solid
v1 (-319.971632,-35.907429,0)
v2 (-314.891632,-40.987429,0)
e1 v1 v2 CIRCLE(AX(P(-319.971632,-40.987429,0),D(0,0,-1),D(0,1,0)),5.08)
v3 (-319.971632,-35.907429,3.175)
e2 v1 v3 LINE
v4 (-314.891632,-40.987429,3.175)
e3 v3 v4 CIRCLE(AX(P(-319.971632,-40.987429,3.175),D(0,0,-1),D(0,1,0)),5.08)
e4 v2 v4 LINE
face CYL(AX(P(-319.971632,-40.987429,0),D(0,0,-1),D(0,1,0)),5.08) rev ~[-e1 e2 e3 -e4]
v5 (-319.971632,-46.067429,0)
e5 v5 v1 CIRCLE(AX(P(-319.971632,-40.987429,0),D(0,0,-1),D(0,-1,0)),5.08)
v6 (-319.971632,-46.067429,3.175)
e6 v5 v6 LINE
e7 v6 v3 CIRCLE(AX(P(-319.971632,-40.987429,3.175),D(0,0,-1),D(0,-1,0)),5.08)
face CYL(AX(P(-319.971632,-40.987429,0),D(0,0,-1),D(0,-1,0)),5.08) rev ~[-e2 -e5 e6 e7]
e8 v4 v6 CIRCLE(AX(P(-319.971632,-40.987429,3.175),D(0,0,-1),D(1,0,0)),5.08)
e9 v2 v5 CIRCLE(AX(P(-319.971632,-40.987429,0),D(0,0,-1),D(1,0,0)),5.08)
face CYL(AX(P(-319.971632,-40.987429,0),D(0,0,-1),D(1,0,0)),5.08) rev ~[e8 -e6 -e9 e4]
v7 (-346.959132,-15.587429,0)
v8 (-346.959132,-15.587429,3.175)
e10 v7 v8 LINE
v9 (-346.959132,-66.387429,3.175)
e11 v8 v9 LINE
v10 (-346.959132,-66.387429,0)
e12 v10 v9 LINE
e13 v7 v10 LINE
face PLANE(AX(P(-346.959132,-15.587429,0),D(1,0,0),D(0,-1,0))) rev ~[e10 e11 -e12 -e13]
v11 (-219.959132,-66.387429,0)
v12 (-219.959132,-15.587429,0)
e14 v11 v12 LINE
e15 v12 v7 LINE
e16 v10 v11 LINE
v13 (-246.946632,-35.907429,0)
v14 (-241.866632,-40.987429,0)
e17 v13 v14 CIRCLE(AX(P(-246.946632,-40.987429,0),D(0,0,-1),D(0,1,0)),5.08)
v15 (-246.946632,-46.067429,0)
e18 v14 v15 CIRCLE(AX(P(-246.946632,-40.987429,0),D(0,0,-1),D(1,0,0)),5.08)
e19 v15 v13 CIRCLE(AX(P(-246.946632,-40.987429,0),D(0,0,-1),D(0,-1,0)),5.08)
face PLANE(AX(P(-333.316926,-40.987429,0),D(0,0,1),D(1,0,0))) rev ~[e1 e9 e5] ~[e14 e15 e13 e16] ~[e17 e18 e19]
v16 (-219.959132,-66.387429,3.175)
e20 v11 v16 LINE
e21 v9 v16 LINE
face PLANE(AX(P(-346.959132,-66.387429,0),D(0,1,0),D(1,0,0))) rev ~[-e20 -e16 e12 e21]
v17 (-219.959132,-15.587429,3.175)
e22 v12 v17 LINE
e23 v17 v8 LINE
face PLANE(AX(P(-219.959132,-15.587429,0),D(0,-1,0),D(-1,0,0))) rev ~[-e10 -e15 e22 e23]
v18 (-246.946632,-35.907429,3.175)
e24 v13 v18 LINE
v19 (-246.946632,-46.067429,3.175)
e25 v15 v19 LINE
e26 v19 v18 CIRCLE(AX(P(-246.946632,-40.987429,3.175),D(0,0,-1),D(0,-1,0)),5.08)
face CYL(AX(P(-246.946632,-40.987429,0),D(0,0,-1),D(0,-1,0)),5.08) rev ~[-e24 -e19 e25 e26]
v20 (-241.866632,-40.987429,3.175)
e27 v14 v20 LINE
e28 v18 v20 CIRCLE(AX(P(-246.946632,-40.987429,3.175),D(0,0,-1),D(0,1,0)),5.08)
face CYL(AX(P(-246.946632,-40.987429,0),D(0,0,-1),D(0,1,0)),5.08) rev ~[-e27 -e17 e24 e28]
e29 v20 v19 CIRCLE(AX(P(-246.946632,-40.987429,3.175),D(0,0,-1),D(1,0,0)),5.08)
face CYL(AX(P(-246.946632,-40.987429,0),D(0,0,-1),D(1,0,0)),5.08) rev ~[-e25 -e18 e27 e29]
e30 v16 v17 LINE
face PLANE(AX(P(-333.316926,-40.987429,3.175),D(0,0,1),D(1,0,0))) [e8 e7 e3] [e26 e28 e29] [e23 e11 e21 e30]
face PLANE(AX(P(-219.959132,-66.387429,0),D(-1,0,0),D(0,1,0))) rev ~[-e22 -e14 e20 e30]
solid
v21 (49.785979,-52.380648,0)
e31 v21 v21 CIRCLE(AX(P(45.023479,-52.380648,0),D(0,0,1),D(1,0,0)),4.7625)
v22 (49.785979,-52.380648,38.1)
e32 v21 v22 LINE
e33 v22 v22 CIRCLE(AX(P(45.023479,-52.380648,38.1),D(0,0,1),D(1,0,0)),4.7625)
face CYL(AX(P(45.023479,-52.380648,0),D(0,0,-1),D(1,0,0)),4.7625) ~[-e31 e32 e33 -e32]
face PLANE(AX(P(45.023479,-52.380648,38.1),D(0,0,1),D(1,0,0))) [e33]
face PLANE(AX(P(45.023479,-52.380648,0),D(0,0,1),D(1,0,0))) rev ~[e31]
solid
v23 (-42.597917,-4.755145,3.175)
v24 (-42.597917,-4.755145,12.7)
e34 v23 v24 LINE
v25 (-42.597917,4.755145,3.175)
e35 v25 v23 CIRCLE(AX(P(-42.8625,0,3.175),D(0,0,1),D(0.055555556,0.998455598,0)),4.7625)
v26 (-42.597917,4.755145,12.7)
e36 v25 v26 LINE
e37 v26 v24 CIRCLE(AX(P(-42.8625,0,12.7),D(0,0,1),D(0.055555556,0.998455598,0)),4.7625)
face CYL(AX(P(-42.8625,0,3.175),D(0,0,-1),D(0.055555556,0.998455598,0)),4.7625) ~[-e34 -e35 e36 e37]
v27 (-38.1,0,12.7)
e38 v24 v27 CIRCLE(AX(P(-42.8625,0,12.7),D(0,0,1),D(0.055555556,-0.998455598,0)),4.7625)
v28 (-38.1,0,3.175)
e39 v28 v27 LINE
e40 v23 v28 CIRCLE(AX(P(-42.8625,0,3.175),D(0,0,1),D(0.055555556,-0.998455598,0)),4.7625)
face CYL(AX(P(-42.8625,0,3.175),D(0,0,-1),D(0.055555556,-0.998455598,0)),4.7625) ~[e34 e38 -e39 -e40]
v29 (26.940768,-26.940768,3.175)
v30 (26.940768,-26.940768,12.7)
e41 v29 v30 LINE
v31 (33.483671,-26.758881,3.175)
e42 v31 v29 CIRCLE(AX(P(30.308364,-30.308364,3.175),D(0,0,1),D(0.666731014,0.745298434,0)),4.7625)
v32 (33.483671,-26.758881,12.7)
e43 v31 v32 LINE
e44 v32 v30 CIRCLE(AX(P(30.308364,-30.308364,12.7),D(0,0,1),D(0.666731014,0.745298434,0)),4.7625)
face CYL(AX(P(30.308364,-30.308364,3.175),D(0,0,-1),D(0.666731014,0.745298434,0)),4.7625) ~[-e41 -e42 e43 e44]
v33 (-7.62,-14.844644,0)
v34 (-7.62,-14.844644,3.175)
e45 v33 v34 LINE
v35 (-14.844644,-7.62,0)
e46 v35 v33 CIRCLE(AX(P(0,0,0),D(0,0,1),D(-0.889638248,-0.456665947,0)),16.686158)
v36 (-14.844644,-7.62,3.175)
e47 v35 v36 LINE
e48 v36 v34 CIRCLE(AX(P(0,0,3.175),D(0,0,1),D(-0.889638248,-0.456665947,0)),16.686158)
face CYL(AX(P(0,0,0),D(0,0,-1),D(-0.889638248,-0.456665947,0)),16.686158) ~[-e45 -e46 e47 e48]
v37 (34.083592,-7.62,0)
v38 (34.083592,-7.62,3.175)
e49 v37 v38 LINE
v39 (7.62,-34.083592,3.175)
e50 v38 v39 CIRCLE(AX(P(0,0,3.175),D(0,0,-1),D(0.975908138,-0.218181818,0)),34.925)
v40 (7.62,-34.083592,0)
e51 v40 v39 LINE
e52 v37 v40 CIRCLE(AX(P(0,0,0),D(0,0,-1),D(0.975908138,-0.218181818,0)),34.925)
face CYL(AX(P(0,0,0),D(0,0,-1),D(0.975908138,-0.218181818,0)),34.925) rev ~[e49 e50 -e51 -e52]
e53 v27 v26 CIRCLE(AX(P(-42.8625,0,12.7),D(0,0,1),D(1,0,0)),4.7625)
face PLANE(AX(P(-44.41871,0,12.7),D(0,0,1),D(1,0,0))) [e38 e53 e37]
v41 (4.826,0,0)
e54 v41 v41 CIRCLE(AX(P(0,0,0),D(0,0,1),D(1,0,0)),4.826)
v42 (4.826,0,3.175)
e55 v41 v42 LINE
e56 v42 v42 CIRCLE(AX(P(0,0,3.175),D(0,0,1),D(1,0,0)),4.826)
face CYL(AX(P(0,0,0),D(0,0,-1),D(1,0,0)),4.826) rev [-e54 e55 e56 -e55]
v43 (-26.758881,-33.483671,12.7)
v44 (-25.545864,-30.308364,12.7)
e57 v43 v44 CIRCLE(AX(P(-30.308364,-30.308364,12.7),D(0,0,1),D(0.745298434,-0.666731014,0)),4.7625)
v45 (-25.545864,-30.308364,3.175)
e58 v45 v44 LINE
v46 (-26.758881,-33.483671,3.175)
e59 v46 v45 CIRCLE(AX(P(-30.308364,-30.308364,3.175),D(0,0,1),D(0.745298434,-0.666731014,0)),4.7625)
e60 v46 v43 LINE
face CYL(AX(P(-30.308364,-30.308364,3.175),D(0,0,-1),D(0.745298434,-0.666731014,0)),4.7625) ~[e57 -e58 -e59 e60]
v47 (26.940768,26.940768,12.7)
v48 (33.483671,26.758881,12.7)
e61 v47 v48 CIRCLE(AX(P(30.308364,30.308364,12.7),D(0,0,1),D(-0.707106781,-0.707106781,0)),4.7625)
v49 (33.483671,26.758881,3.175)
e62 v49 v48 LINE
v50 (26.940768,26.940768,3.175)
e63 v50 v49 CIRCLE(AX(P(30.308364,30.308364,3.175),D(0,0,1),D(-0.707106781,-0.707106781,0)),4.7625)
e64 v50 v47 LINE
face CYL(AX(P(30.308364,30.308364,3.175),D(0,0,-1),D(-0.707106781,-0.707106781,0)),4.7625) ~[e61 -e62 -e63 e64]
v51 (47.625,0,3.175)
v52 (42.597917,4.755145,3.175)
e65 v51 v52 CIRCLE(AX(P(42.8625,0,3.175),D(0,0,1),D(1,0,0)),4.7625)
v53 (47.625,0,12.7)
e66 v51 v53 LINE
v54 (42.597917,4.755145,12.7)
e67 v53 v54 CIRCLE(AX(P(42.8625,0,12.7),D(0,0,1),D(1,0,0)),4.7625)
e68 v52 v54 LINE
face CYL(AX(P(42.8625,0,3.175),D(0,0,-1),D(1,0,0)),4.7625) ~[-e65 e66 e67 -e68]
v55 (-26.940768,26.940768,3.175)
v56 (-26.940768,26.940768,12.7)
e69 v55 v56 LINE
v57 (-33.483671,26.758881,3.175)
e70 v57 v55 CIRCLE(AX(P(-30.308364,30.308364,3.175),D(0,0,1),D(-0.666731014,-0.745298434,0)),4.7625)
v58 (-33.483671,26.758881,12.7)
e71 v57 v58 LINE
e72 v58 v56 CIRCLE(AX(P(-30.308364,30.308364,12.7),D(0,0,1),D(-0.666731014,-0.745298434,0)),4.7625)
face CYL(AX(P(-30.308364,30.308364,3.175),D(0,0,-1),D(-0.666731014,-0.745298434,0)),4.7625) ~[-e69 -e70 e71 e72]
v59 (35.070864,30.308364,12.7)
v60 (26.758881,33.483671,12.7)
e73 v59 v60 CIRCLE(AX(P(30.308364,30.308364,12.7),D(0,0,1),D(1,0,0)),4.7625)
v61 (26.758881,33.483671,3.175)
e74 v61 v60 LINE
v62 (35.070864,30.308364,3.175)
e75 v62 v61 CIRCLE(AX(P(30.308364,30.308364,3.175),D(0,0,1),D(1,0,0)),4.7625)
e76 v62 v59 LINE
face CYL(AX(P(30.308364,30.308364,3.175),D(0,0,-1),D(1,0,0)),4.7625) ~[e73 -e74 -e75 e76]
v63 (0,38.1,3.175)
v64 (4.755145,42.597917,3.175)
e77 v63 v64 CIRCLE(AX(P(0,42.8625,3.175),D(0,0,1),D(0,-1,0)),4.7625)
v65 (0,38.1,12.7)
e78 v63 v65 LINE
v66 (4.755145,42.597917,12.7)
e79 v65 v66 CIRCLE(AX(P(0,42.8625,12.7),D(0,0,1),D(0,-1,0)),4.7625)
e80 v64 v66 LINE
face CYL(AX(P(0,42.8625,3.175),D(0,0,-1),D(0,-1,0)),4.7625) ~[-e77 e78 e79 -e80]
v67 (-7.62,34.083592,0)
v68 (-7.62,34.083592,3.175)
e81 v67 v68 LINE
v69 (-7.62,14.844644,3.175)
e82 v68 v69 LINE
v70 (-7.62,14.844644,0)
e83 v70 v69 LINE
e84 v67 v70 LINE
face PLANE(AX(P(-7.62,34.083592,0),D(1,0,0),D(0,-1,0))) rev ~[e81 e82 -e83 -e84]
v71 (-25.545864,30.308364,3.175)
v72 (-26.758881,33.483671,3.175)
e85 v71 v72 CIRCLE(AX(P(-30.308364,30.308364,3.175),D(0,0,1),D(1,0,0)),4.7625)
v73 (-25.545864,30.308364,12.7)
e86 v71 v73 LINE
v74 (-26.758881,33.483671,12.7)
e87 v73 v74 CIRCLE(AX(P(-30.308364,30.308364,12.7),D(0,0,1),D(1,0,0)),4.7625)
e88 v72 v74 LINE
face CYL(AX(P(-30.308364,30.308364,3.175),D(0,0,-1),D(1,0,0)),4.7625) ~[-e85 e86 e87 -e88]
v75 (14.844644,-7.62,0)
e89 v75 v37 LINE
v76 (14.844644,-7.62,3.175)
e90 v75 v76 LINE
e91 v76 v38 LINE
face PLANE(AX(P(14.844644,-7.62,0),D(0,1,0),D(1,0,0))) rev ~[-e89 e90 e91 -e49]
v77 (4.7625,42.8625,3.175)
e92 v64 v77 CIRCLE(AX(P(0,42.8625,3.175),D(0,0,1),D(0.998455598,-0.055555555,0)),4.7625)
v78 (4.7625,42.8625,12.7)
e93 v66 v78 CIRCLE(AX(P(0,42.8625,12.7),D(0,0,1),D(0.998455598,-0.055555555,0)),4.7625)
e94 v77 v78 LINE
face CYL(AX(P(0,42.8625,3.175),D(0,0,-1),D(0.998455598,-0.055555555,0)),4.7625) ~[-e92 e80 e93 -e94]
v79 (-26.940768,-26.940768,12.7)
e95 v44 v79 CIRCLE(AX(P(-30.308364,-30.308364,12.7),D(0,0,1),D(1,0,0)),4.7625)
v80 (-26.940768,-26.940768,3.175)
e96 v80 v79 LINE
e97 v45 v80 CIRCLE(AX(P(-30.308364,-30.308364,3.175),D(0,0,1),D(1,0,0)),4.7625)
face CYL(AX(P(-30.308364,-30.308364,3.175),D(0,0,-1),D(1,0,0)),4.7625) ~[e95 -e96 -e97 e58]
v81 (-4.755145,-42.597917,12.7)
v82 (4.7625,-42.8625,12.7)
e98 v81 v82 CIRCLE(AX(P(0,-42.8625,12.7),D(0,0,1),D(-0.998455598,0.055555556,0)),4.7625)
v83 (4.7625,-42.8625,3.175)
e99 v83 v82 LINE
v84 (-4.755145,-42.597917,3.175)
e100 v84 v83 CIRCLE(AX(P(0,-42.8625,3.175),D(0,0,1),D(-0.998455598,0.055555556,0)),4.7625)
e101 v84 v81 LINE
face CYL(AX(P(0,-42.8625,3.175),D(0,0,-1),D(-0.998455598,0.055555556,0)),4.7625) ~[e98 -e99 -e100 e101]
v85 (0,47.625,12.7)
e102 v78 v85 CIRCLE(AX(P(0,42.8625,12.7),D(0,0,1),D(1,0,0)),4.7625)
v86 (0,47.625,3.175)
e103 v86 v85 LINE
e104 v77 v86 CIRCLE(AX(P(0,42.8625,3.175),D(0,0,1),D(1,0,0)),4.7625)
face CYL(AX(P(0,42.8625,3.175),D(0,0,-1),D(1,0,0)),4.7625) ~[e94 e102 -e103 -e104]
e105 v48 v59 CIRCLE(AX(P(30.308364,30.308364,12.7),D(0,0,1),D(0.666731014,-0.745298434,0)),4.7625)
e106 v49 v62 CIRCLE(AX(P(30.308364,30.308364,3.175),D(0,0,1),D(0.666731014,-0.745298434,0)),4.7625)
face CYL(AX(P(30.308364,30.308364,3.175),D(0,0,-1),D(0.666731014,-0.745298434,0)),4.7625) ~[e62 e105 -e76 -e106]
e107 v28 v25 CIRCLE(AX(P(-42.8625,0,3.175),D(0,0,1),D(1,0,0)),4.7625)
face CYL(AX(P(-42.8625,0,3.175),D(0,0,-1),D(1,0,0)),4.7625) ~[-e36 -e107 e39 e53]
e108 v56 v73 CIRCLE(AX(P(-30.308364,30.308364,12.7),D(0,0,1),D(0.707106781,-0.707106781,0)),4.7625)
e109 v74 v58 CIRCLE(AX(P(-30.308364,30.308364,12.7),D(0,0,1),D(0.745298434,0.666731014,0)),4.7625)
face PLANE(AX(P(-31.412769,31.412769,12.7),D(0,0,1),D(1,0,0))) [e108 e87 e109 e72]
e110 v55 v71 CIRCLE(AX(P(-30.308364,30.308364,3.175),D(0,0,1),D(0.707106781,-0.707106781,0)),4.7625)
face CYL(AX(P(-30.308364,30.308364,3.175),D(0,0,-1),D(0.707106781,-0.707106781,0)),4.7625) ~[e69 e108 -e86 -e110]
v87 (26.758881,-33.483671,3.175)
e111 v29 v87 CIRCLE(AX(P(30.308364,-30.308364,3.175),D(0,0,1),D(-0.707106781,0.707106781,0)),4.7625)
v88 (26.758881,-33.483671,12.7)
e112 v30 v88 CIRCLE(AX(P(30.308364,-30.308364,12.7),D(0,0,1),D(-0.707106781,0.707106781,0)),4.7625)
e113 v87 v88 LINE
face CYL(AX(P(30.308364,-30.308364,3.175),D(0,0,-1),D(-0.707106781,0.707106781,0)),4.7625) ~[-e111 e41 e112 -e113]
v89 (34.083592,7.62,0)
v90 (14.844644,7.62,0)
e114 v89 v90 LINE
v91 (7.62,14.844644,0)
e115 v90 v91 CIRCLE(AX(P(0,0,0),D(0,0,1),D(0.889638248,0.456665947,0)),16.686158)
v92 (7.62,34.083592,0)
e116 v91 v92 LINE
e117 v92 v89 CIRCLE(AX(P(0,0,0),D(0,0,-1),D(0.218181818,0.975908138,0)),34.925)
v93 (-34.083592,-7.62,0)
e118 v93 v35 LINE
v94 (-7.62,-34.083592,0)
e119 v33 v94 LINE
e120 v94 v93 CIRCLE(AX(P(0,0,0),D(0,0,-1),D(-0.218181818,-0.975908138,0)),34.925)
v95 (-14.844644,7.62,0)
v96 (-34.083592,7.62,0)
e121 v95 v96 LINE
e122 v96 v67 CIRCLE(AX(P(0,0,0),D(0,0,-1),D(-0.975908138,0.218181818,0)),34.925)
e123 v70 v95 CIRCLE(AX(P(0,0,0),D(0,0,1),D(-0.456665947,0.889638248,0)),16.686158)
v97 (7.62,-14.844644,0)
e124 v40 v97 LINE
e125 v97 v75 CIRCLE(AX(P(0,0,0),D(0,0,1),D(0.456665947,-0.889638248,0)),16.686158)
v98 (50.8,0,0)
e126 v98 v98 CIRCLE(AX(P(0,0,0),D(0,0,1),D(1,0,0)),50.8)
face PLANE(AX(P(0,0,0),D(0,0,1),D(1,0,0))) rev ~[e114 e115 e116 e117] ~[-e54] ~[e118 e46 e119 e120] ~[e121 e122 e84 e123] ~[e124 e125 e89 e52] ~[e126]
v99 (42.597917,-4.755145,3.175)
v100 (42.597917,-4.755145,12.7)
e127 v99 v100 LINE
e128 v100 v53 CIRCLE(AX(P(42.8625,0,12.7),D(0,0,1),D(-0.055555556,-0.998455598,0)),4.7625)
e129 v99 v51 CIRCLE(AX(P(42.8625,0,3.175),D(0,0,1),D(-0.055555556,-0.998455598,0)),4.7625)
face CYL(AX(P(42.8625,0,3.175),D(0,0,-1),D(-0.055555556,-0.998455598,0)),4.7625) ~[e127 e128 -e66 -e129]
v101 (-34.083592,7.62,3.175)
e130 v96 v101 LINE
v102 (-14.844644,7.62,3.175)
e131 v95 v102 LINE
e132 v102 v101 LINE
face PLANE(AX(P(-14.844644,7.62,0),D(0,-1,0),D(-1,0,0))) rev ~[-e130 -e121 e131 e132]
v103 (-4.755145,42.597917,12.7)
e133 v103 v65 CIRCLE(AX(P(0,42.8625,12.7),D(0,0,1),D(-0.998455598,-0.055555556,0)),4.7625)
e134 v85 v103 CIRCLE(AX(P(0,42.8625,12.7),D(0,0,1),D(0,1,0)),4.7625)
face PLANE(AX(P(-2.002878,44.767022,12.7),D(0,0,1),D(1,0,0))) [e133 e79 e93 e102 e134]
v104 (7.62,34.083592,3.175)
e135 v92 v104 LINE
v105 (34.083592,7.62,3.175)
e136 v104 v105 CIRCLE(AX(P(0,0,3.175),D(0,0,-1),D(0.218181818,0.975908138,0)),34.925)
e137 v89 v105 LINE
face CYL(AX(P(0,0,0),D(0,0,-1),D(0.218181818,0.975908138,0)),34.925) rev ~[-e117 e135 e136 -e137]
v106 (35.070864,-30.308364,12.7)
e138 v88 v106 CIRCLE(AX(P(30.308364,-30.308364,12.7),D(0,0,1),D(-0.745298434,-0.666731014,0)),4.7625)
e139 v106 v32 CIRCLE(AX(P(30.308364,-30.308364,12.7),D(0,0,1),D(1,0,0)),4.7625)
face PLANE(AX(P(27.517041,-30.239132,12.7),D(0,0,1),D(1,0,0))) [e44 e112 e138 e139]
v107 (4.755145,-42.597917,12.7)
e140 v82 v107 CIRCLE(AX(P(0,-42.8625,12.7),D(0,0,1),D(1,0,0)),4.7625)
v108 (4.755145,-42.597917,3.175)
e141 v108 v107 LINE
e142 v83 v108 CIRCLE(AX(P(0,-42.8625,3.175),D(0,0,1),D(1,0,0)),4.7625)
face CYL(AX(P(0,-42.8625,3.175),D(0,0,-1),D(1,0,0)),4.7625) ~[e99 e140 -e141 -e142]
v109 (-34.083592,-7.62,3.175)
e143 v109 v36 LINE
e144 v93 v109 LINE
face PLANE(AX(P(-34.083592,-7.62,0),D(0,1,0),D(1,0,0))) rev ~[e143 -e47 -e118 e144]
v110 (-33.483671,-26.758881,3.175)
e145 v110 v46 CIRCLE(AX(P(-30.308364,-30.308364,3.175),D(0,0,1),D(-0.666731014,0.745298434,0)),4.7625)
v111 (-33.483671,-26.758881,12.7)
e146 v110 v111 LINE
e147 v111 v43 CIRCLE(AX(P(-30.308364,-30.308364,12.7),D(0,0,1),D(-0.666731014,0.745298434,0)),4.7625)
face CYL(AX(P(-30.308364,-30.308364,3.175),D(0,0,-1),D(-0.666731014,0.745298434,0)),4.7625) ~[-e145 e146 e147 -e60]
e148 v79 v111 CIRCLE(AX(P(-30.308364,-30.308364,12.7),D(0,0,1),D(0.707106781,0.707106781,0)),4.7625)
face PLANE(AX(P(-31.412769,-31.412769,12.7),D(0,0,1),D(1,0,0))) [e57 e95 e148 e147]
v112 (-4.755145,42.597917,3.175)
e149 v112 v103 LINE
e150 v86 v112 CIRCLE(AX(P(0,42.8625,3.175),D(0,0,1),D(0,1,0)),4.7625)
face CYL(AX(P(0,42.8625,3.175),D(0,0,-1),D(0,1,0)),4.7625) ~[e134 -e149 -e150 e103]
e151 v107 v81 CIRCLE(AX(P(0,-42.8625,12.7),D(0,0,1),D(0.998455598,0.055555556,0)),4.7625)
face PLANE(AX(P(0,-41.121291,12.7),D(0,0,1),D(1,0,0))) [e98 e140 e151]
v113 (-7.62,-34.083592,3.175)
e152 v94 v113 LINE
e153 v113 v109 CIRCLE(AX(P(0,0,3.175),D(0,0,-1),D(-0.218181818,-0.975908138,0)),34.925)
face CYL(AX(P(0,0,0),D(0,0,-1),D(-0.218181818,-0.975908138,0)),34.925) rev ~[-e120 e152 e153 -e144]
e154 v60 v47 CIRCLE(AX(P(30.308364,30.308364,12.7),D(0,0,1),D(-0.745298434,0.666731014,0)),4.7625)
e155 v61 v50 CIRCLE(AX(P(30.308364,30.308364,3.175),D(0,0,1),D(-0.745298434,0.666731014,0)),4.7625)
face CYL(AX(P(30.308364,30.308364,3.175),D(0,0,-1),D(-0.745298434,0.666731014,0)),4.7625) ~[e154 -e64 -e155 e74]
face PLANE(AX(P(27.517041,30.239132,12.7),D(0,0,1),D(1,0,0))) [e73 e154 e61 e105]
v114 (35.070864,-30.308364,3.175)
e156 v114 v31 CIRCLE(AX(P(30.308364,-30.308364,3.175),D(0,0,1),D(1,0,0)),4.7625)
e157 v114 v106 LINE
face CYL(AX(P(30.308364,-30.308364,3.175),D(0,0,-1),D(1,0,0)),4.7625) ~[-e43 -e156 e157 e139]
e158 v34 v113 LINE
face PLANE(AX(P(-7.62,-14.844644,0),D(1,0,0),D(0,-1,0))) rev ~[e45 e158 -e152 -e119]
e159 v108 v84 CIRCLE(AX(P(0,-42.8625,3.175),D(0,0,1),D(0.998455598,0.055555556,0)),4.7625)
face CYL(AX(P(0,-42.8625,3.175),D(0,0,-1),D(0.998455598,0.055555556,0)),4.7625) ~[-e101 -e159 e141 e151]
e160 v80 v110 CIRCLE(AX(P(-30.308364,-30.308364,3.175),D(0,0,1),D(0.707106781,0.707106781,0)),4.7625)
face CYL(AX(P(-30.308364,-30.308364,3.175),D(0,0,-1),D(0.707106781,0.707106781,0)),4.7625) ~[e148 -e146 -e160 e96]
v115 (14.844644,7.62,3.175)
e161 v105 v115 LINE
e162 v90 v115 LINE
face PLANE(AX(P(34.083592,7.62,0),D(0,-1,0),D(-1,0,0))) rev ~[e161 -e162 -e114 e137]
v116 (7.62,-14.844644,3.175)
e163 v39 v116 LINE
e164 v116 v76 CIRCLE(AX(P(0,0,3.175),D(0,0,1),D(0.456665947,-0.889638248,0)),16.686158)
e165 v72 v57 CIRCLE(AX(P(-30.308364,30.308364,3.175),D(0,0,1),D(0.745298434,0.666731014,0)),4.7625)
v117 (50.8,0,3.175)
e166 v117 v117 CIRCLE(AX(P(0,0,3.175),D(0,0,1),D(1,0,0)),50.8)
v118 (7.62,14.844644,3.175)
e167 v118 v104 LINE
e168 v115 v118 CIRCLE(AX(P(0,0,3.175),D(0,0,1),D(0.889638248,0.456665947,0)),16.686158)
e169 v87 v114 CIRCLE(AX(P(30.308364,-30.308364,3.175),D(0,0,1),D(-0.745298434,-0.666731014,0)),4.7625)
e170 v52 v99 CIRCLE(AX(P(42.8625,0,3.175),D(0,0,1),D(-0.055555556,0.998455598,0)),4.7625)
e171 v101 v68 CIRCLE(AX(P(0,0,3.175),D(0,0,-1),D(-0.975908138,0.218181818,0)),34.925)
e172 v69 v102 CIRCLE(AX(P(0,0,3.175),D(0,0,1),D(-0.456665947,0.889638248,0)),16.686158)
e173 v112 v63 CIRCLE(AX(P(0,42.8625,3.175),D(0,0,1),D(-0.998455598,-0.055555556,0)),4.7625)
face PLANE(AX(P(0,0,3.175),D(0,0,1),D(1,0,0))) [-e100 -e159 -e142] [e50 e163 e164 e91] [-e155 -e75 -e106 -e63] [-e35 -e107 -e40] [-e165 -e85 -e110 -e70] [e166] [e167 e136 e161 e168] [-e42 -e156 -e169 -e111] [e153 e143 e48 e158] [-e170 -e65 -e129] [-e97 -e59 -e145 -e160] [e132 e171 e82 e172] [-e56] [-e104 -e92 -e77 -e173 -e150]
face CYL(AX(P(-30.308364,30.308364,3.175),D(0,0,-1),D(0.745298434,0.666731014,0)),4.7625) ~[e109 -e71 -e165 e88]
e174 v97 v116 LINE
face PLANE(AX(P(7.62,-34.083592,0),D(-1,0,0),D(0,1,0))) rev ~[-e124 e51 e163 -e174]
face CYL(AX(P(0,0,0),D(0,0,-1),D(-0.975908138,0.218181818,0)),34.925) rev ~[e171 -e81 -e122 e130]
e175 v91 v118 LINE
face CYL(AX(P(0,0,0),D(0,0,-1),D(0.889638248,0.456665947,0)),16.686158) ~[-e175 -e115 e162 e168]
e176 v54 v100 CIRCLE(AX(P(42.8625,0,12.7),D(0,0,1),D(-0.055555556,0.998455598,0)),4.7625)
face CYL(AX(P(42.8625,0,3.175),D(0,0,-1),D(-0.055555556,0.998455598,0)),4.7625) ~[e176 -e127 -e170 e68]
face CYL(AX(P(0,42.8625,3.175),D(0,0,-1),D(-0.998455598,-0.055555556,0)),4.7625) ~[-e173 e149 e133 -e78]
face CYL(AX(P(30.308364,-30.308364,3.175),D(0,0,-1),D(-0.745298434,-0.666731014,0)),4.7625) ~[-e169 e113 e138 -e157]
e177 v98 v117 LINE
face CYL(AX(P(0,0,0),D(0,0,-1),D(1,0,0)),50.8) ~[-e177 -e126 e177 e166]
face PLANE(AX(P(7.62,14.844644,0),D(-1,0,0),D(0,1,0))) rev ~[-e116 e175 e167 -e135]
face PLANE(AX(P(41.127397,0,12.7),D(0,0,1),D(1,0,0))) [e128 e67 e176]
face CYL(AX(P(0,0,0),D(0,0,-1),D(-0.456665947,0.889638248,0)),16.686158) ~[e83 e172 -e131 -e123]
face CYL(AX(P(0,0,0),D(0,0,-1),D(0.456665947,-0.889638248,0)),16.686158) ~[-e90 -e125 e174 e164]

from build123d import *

# Parameters (mm, degrees)
F0_R      = 50.8
F0_R_2    = 4.826
F1_DEPTH  = 3.175
F3_DEPTH  = 3.175
F2_R      = 4.7625
F4_DEPTH  = 38.1
F6_DEPTH  = 9.525
F8_DEPTH  = 3.175
F11_DEPTH = 3.175


with BuildPart() as f1:
    # F0 (on Top) → F1 (new body)
    with BuildSketch(Plane.XY):
        Circle(F0_R)
        with BuildLine():
            ThreePointArc((-7.62, -34.0835917268), (-24.6957043329, -24.6957043329), (-34.0835917268, -7.62))
            Line((-34.0835917268, -7.62), (-14.8446440983, -7.62))
            ThreePointArc((-14.8446440983, -7.62), (-11.7988952535, -11.7988952535), (-7.62, -14.8446440983))
            Line((-7.62, -14.8446440983), (-7.62, -34.0835917268))
        make_face(mode=Mode.SUBTRACT)
        Circle(F0_R_2, mode=Mode.SUBTRACT)
        with BuildLine():
            Line((7.62, -34.0835917268), (7.62, -14.8446440983))
            ThreePointArc((7.62, -14.8446440983), (11.7988952535, -11.7988952535), (14.8446440983, -7.62))
            Line((14.8446440983, -7.62), (34.0835917268, -7.62))
            ThreePointArc((34.0835917268, -7.62), (24.6957043329, -24.6957043329), (7.62, -34.0835917268))
        make_face(mode=Mode.SUBTRACT)
        with BuildLine():
            Line((-7.62, 34.0835917268), (-7.62, 14.8446440983))
            ThreePointArc((-7.62, 14.8446440983), (-11.7988952535, 11.7988952535), (-14.8446440983, 7.62))
            Line((-14.8446440983, 7.62), (-34.0835917268, 7.62))
            ThreePointArc((-34.0835917268, 7.62), (-24.6957043329, 24.6957043329), (-7.62, 34.0835917268))
        make_face(mode=Mode.SUBTRACT)
        with BuildLine():
            ThreePointArc((7.62, 34.0835917268), (24.6957043329, 24.6957043329), (34.0835917268, 7.62))
            Line((34.0835917268, 7.62), (14.8446440983, 7.62))
            ThreePointArc((14.8446440983, 7.62), (11.7988952535, 11.7988952535), (7.62, 14.8446440983))
            Line((7.62, 14.8446440983), (7.62, 34.0835917268))
        make_face(mode=Mode.SUBTRACT)
    extrude(amount=F1_DEPTH)

    # F5 (on face) → F6 (join)
    with BuildSketch(Plane.XY.offset(3.175)):
        with BuildLine():
            ThreePointArc((-42.5979166667, 4.7551447833), (-47.625, 0), (-42.5979166667, -4.7551447833))
            ThreePointArc((-42.5979166667, -4.7551447833), (-42.8625, 0), (-42.5979166667, 4.7551447833))
        make_face()
        with BuildLine():
            ThreePointArc((-42.5979166667, 4.7551447833), (-42.8625, 0), (-42.5979166667, -4.7551447833))
            ThreePointArc((-42.5979166667, -4.7551447833), (-39.4026239636, -3.2727150903), (-38.1, 0))
            ThreePointArc((-38.1, 0), (-39.4026239636, 3.2727150903), (-42.5979166667, 4.7551447833))
        make_face()
        with BuildLine():
            ThreePointArc((-30.3083644086, 30.3083644086), (-28.5777580732, 31.9453541186), (-26.7588806177, 33.4836708612))
            ThreePointArc((-26.7588806177, 33.4836708612), (-33.675960454, 33.675960454), (-33.4836708612, 26.7588806177))
            ThreePointArc((-33.4836708612, 26.7588806177), (-31.9453541186, 28.5777580732), (-30.3083644086, 30.3083644086))
        make_face()
        with BuildLine():
            ThreePointArc((-25.5458644086, 30.3083644086), (-25.8594419096, 32.0079216591), (-26.7588806177, 33.4836708612))
            ThreePointArc((-26.7588806177, 33.4836708612), (-28.5777580732, 31.9453541186), (-30.3083644086, 30.3083644086))
            Line((-30.3083644086, 30.3083644086), (-26.9407683632, 26.9407683632))
            ThreePointArc((-26.9407683632, 26.9407683632), (-25.908388135, 28.485834562), (-25.5458644086, 30.3083644086))
        make_face()
        with BuildLine():
            Line((-26.9407683632, 26.9407683632), (-30.3083644086, 30.3083644086))
            ThreePointArc((-30.3083644086, 30.3083644086), (-31.9453541186, 28.5777580732), (-33.4836708612, 26.7588806177))
            ThreePointArc((-33.4836708612, 26.7588806177), (-30.1760216344, 25.5477035679), (-26.9407683632, 26.9407683632))
        make_face()
        with BuildLine():
            ThreePointArc((-4.7551447833, 42.5979166667), (-2.38125, 42.7963030493), (0, 42.8625))
            Line((0, 42.8625), (0, 47.625))
            ThreePointArc((0, 47.625), (-3.4598760364, 46.1352150903), (-4.7551447833, 42.5979166667))
        make_face()
        with BuildLine():
            ThreePointArc((0, 42.8625), (2.38125, 42.7963030493), (4.7551447833, 42.5979166667))
            ThreePointArc((4.7551447833, 42.5979166667), (4.7606608407, 42.7301572258), (4.7625, 42.8625))
            ThreePointArc((4.7625, 42.8625), (3.3675960454, 46.2300960454), (0, 47.625))
            Line((0, 47.625), (0, 42.8625))
        make_face()
        with BuildLine():
            ThreePointArc((0, 38.1), (3.2727150903, 39.4026239636), (4.7551447833, 42.5979166667))
            ThreePointArc((4.7551447833, 42.5979166667), (2.38125, 42.7963030493), (0, 42.8625))
            Line((0, 42.8625), (0, 38.1))
        make_face()
        with BuildLine():
            Line((0, 38.1), (0, 42.8625))
            ThreePointArc((0, 42.8625), (-2.38125, 42.7963030493), (-4.7551447833, 42.5979166667))
            ThreePointArc((-4.7551447833, 42.5979166667), (-3.2727150903, 39.4026239636), (0, 38.1))
        make_face()
        with BuildLine():
            Line((26.9407683632, 26.9407683632), (30.3083644086, 30.3083644086))
            ThreePointArc((30.3083644086, 30.3083644086), (28.5777580732, 31.9453541186), (26.7588806177, 33.4836708612))
            ThreePointArc((26.7588806177, 33.4836708612), (25.5477035679, 30.1760216344), (26.9407683632, 26.9407683632))
        make_face()
        with BuildLine():
            ThreePointArc((30.3083644086, 30.3083644086), (31.9453541186, 28.5777580732), (33.4836708612, 26.7588806177))
            ThreePointArc((33.4836708612, 26.7588806177), (34.6559961335, 28.3642695974), (35.0708644086, 30.3083644086))
            ThreePointArc((35.0708644086, 30.3083644086), (32.0079216591, 34.7572869076), (26.7588806177, 33.4836708612))
            ThreePointArc((26.7588806177, 33.4836708612), (28.5777580732, 31.9453541186), (30.3083644086, 30.3083644086))
        make_face()
        with BuildLine():
            ThreePointArc((26.9407683632, 26.9407683632), (30.1760216344, 25.5477035679), (33.4836708612, 26.7588806177))
            ThreePointArc((33.4836708612, 26.7588806177), (31.9453541186, 28.5777580732), (30.3083644086, 30.3083644086))
            Line((30.3083644086, 30.3083644086), (26.9407683632, 26.9407683632))
        make_face()
        with BuildLine():
            ThreePointArc((42.5979166667, -4.7551447833), (42.7963030493, -2.38125), (42.8625, 0))
            ThreePointArc((42.8625, 0), (42.7963030493, 2.38125), (42.5979166667, 4.7551447833))
            ThreePointArc((42.5979166667, 4.7551447833), (38.1, 0), (42.5979166667, -4.7551447833))
        make_face()
        with BuildLine():
            ThreePointArc((42.5979166667, 4.7551447833), (42.7963030493, 2.38125), (42.8625, 0))
            ThreePointArc((42.8625, 0), (42.7963030493, -2.38125), (42.5979166667, -4.7551447833))
            ThreePointArc((42.5979166667, -4.7551447833), (46.1352150903, -3.4598760364), (47.625, 0))
            ThreePointArc((47.625, 0), (46.1352150903, 3.4598760364), (42.5979166667, 4.7551447833))
        make_face()
        with BuildLine():
            ThreePointArc((-33.4836708612, -26.7588806177), (-33.675960454, -33.675960454), (-26.7588806177, -33.4836708612))
            ThreePointArc((-26.7588806177, -33.4836708612), (-28.5777580732, -31.9453541186), (-30.3083644086, -30.3083644086))
            ThreePointArc((-30.3083644086, -30.3083644086), (-31.9453541186, -28.5777580732), (-33.4836708612, -26.7588806177))
        make_face()
        with BuildLine():
            ThreePointArc((-30.3083644086, -30.3083644086), (-28.5777580732, -31.9453541186), (-26.7588806177, -33.4836708612))
            ThreePointArc((-26.7588806177, -33.4836708612), (-25.8594419096, -32.0079216591), (-25.5458644086, -30.3083644086))
            ThreePointArc((-25.5458644086, -30.3083644086), (-25.908388135, -28.485834562), (-26.9407683632, -26.9407683632))
            Line((-26.9407683632, -26.9407683632), (-30.3083644086, -30.3083644086))
        make_face()
        with BuildLine():
            ThreePointArc((-33.4836708612, -26.7588806177), (-31.9453541186, -28.5777580732), (-30.3083644086, -30.3083644086))
            Line((-30.3083644086, -30.3083644086), (-26.9407683632, -26.9407683632))
            ThreePointArc((-26.9407683632, -26.9407683632), (-30.1760216344, -25.5477035679), (-33.4836708612, -26.7588806177))
        make_face()
        with BuildLine():
            ThreePointArc((-4.7551447833, -42.5979166667), (0, -42.8625), (4.7551447833, -42.5979166667))
            ThreePointArc((4.7551447833, -42.5979166667), (0, -38.1), (-4.7551447833, -42.5979166667))
        make_face()
        with BuildLine():
            ThreePointArc((4.7625, -42.8625), (4.7606608407, -42.7301572258), (4.7551447833, -42.5979166667))
            ThreePointArc((4.7551447833, -42.5979166667), (0, -42.8625), (-4.7551447833, -42.5979166667))
            ThreePointArc((-4.7551447833, -42.5979166667), (-0.1323427742, -47.6231608407), (4.7625, -42.8625))
        make_face()
        with BuildLine():
            ThreePointArc((26.7588806177, -33.4836708612), (28.5777580732, -31.9453541186), (30.3083644086, -30.3083644086))
            Line((30.3083644086, -30.3083644086), (26.9407683632, -26.9407683632))
            ThreePointArc((26.9407683632, -26.9407683632), (25.5477035679, -30.1760216344), (26.7588806177, -33.4836708612))
        make_face()
        with BuildLine():
            ThreePointArc((30.3083644086, -30.3083644086), (31.9453541186, -28.5777580732), (33.4836708612, -26.7588806177))
            ThreePointArc((33.4836708612, -26.7588806177), (30.1760216344, -25.5477035679), (26.9407683632, -26.9407683632))
            Line((26.9407683632, -26.9407683632), (30.3083644086, -30.3083644086))
        make_face()
        with BuildLine():
            ThreePointArc((35.0708644086, -30.3083644086), (34.6559961335, -28.3642695974), (33.4836708612, -26.7588806177))
            ThreePointArc((33.4836708612, -26.7588806177), (31.9453541186, -28.5777580732), (30.3083644086, -30.3083644086))
            ThreePointArc((30.3083644086, -30.3083644086), (28.5777580732, -31.9453541186), (26.7588806177, -33.4836708612))
            ThreePointArc((26.7588806177, -33.4836708612), (32.0079216591, -34.7572869076), (35.0708644086, -30.3083644086))
        make_face()
    extrude(amount=F6_DEPTH)


with BuildPart() as f3:
    # F2 (on Top) → F3 (new body)
    with BuildSketch(Plane.XY):
        with BuildLine():
            Line((-319.9716319146, -15.5874290968), (-346.9591319146, -15.5874290968))
            Line((-346.9591319146, -15.5874290968), (-346.9591319146, -66.3874290968))
            Line((-346.9591319146, -66.3874290968), (-319.9716319146, -66.3874290968))
            Line((-319.9716319146, -66.3874290968), (-319.9716319146, -46.0674290968))
            ThreePointArc((-319.9716319146, -46.0674290968), (-325.0516319146, -40.9874290968), (-319.9716319146, -35.9074290968))
            Line((-319.9716319146, -35.9074290968), (-319.9716319146, -15.5874290968))
        make_face()
        with BuildLine():
            Line((-246.9466319146, -15.5874290968), (-319.9716319146, -15.5874290968))
            Line((-319.9716319146, -15.5874290968), (-319.9716319146, -35.9074290968))
            ThreePointArc((-319.9716319146, -35.9074290968), (-316.3795294661, -37.3953266483), (-314.8916319146, -40.9874290968))
            ThreePointArc((-314.8916319146, -40.9874290968), (-316.3795294661, -44.5795315452), (-319.9716319146, -46.0674290968))
            Line((-319.9716319146, -46.0674290968), (-319.9716319146, -66.3874290968))
            Line((-319.9716319146, -66.3874290968), (-246.9466319146, -66.3874290968))
            Line((-246.9466319146, -66.3874290968), (-246.9466319146, -46.0674290968))
            ThreePointArc((-246.9466319146, -46.0674290968), (-252.0266319146, -40.9874290968), (-246.9466319146, -35.9074290968))
            Line((-246.9466319146, -35.9074290968), (-246.9466319146, -15.5874290968))
        make_face()
        with BuildLine():
            Line((-219.9591319146, -15.5874290968), (-246.9466319146, -15.5874290968))
            Line((-246.9466319146, -15.5874290968), (-246.9466319146, -35.9074290968))
            ThreePointArc((-246.9466319146, -35.9074290968), (-243.3545294661, -37.3953266483), (-241.8666319146, -40.9874290968))
            ThreePointArc((-241.8666319146, -40.9874290968), (-243.3545294661, -44.5795315452), (-246.9466319146, -46.0674290968))
            Line((-246.9466319146, -46.0674290968), (-246.9466319146, -66.3874290968))
            Line((-246.9466319146, -66.3874290968), (-219.9591319146, -66.3874290968))
            Line((-219.9591319146, -66.3874290968), (-219.9591319146, -15.5874290968))
        make_face()
    extrude(amount=F3_DEPTH)


with BuildPart() as f4:
    # F2 (on Top) → F4 (new body)
    with BuildSketch(Plane.XY):
        with Locations((45.0234785676, -52.3806475103)):
            Circle(F2_R)
    extrude(amount=F4_DEPTH)


with BuildPart() as f8:
    # F7 (on Top) → F8 (new body)
    with BuildSketch(Plane.XY):
        with BuildLine():
            Line((-183.2109061122, -127.57224737), (-259.4109061122, -127.57224737))
            Line((-259.4109061122, -127.57224737), (-259.4109061122, -148.14624737))
            ThreePointArc((-259.4109061122, -148.14624737), (-255.9984087862, -149.559750044), (-254.5849061122, -152.97224737))
            Line((-254.5849061122, -152.97224737), (-188.0369061122, -152.97224737))
            ThreePointArc((-188.0369061122, -152.97224737), (-186.6234034382, -149.559750044), (-183.2109061122, -148.14624737))
            Line((-183.2109061122, -148.14624737), (-183.2109061122, -127.57224737))
        make_face()
        with BuildLine():
            Line((-188.0369061122, -152.97224737), (-254.5849061122, -152.97224737))
            ThreePointArc((-254.5849061122, -152.97224737), (-255.9984087862, -156.384744696), (-259.4109061122, -157.79824737))
            Line((-259.4109061122, -157.79824737), (-259.4109061122, -178.37224737))
            Line((-259.4109061122, -178.37224737), (-183.2109061122, -178.37224737))
            Line((-183.2109061122, -178.37224737), (-183.2109061122, -157.79824737))
            ThreePointArc((-183.2109061122, -157.79824737), (-186.6234034382, -156.384744696), (-188.0369061122, -152.97224737))
        make_face()
        with BuildLine():
            Line((-264.2369061122, -152.97224737), (-284.8109061122, -152.97224737))
            Line((-284.8109061122, -152.97224737), (-284.8109061122, -178.37224737))
            Line((-284.8109061122, -178.37224737), (-259.4109061122, -178.37224737))
            Line((-259.4109061122, -178.37224737), (-259.4109061122, -157.79824737))
            ThreePointArc((-259.4109061122, -157.79824737), (-262.8234034382, -156.384744696), (-264.2369061122, -152.97224737))
        make_face()
        with BuildLine():
            Line((-259.4109061122, -127.57224737), (-284.8109061122, -127.57224737))
            Line((-284.8109061122, -127.57224737), (-284.8109061122, -152.97224737))
            Line((-284.8109061122, -152.97224737), (-264.2369061122, -152.97224737))
            ThreePointArc((-264.2369061122, -152.97224737), (-262.8234034382, -149.559750044), (-259.4109061122, -148.14624737))
            Line((-259.4109061122, -148.14624737), (-259.4109061122, -127.57224737))
        make_face()
        with BuildLine():
            Line((-157.8109061122, -127.57224737), (-183.2109061122, -127.57224737))
            Line((-183.2109061122, -127.57224737), (-183.2109061122, -148.14624737))
            ThreePointArc((-183.2109061122, -148.14624737), (-179.7984087862, -149.559750044), (-178.3849061122, -152.97224737))
            Line((-178.3849061122, -152.97224737), (-157.8109061122, -152.97224737))
            Line((-157.8109061122, -152.97224737), (-157.8109061122, -127.57224737))
        make_face()
        with BuildLine():
            Line((-157.8109061122, -178.37224737), (-157.8109061122, -152.97224737))
            Line((-157.8109061122, -152.97224737), (-178.3849061122, -152.97224737))
            ThreePointArc((-178.3849061122, -152.97224737), (-179.7984087862, -156.384744696), (-183.2109061122, -157.79824737))
            Line((-183.2109061122, -157.79824737), (-183.2109061122, -178.37224737))
            Line((-183.2109061122, -178.37224737), (-157.8109061122, -178.37224737))
        make_face()
    extrude(amount=F8_DEPTH)


with BuildPart() as f11:
    # F2 (on Top) → F11 (new body)
    with BuildSketch(Plane.XY):
        with BuildLine():
            Line((-319.9716319146, -15.5874290968), (-346.9591319146, -15.5874290968))
            Line((-346.9591319146, -15.5874290968), (-346.9591319146, -66.3874290968))
            Line((-346.9591319146, -66.3874290968), (-319.9716319146, -66.3874290968))
            Line((-319.9716319146, -66.3874290968), (-319.9716319146, -46.0674290968))
            ThreePointArc((-319.9716319146, -46.0674290968), (-325.0516319146, -40.9874290968), (-319.9716319146, -35.9074290968))
            Line((-319.9716319146, -35.9074290968), (-319.9716319146, -15.5874290968))
        make_face()
        with BuildLine():
            Line((-219.9591319146, -15.5874290968), (-246.9466319146, -15.5874290968))
            Line((-246.9466319146, -15.5874290968), (-246.9466319146, -35.9074290968))
            ThreePointArc((-246.9466319146, -35.9074290968), (-243.3545294661, -37.3953266483), (-241.8666319146, -40.9874290968))
            ThreePointArc((-241.8666319146, -40.9874290968), (-243.3545294661, -44.5795315452), (-246.9466319146, -46.0674290968))
            Line((-246.9466319146, -46.0674290968), (-246.9466319146, -66.3874290968))
            Line((-246.9466319146, -66.3874290968), (-219.9591319146, -66.3874290968))
            Line((-219.9591319146, -66.3874290968), (-219.9591319146, -15.5874290968))
        make_face()
        with BuildLine():
            Line((-246.9466319146, -15.5874290968), (-319.9716319146, -15.5874290968))
            Line((-319.9716319146, -15.5874290968), (-319.9716319146, -35.9074290968))
            ThreePointArc((-319.9716319146, -35.9074290968), (-316.3795294661, -37.3953266483), (-314.8916319146, -40.9874290968))
            ThreePointArc((-314.8916319146, -40.9874290968), (-316.3795294661, -44.5795315452), (-319.9716319146, -46.0674290968))
            Line((-319.9716319146, -46.0674290968), (-319.9716319146, -66.3874290968))
            Line((-319.9716319146, -66.3874290968), (-246.9466319146, -66.3874290968))
            Line((-246.9466319146, -66.3874290968), (-246.9466319146, -46.0674290968))
            ThreePointArc((-246.9466319146, -46.0674290968), (-252.0266319146, -40.9874290968), (-246.9466319146, -35.9074290968))
            Line((-246.9466319146, -35.9074290968), (-246.9466319146, -15.5874290968))
        make_face()
    extrude(amount=F11_DEPTH)


solid = Compound([f1.part, f4.part, f11.part])
